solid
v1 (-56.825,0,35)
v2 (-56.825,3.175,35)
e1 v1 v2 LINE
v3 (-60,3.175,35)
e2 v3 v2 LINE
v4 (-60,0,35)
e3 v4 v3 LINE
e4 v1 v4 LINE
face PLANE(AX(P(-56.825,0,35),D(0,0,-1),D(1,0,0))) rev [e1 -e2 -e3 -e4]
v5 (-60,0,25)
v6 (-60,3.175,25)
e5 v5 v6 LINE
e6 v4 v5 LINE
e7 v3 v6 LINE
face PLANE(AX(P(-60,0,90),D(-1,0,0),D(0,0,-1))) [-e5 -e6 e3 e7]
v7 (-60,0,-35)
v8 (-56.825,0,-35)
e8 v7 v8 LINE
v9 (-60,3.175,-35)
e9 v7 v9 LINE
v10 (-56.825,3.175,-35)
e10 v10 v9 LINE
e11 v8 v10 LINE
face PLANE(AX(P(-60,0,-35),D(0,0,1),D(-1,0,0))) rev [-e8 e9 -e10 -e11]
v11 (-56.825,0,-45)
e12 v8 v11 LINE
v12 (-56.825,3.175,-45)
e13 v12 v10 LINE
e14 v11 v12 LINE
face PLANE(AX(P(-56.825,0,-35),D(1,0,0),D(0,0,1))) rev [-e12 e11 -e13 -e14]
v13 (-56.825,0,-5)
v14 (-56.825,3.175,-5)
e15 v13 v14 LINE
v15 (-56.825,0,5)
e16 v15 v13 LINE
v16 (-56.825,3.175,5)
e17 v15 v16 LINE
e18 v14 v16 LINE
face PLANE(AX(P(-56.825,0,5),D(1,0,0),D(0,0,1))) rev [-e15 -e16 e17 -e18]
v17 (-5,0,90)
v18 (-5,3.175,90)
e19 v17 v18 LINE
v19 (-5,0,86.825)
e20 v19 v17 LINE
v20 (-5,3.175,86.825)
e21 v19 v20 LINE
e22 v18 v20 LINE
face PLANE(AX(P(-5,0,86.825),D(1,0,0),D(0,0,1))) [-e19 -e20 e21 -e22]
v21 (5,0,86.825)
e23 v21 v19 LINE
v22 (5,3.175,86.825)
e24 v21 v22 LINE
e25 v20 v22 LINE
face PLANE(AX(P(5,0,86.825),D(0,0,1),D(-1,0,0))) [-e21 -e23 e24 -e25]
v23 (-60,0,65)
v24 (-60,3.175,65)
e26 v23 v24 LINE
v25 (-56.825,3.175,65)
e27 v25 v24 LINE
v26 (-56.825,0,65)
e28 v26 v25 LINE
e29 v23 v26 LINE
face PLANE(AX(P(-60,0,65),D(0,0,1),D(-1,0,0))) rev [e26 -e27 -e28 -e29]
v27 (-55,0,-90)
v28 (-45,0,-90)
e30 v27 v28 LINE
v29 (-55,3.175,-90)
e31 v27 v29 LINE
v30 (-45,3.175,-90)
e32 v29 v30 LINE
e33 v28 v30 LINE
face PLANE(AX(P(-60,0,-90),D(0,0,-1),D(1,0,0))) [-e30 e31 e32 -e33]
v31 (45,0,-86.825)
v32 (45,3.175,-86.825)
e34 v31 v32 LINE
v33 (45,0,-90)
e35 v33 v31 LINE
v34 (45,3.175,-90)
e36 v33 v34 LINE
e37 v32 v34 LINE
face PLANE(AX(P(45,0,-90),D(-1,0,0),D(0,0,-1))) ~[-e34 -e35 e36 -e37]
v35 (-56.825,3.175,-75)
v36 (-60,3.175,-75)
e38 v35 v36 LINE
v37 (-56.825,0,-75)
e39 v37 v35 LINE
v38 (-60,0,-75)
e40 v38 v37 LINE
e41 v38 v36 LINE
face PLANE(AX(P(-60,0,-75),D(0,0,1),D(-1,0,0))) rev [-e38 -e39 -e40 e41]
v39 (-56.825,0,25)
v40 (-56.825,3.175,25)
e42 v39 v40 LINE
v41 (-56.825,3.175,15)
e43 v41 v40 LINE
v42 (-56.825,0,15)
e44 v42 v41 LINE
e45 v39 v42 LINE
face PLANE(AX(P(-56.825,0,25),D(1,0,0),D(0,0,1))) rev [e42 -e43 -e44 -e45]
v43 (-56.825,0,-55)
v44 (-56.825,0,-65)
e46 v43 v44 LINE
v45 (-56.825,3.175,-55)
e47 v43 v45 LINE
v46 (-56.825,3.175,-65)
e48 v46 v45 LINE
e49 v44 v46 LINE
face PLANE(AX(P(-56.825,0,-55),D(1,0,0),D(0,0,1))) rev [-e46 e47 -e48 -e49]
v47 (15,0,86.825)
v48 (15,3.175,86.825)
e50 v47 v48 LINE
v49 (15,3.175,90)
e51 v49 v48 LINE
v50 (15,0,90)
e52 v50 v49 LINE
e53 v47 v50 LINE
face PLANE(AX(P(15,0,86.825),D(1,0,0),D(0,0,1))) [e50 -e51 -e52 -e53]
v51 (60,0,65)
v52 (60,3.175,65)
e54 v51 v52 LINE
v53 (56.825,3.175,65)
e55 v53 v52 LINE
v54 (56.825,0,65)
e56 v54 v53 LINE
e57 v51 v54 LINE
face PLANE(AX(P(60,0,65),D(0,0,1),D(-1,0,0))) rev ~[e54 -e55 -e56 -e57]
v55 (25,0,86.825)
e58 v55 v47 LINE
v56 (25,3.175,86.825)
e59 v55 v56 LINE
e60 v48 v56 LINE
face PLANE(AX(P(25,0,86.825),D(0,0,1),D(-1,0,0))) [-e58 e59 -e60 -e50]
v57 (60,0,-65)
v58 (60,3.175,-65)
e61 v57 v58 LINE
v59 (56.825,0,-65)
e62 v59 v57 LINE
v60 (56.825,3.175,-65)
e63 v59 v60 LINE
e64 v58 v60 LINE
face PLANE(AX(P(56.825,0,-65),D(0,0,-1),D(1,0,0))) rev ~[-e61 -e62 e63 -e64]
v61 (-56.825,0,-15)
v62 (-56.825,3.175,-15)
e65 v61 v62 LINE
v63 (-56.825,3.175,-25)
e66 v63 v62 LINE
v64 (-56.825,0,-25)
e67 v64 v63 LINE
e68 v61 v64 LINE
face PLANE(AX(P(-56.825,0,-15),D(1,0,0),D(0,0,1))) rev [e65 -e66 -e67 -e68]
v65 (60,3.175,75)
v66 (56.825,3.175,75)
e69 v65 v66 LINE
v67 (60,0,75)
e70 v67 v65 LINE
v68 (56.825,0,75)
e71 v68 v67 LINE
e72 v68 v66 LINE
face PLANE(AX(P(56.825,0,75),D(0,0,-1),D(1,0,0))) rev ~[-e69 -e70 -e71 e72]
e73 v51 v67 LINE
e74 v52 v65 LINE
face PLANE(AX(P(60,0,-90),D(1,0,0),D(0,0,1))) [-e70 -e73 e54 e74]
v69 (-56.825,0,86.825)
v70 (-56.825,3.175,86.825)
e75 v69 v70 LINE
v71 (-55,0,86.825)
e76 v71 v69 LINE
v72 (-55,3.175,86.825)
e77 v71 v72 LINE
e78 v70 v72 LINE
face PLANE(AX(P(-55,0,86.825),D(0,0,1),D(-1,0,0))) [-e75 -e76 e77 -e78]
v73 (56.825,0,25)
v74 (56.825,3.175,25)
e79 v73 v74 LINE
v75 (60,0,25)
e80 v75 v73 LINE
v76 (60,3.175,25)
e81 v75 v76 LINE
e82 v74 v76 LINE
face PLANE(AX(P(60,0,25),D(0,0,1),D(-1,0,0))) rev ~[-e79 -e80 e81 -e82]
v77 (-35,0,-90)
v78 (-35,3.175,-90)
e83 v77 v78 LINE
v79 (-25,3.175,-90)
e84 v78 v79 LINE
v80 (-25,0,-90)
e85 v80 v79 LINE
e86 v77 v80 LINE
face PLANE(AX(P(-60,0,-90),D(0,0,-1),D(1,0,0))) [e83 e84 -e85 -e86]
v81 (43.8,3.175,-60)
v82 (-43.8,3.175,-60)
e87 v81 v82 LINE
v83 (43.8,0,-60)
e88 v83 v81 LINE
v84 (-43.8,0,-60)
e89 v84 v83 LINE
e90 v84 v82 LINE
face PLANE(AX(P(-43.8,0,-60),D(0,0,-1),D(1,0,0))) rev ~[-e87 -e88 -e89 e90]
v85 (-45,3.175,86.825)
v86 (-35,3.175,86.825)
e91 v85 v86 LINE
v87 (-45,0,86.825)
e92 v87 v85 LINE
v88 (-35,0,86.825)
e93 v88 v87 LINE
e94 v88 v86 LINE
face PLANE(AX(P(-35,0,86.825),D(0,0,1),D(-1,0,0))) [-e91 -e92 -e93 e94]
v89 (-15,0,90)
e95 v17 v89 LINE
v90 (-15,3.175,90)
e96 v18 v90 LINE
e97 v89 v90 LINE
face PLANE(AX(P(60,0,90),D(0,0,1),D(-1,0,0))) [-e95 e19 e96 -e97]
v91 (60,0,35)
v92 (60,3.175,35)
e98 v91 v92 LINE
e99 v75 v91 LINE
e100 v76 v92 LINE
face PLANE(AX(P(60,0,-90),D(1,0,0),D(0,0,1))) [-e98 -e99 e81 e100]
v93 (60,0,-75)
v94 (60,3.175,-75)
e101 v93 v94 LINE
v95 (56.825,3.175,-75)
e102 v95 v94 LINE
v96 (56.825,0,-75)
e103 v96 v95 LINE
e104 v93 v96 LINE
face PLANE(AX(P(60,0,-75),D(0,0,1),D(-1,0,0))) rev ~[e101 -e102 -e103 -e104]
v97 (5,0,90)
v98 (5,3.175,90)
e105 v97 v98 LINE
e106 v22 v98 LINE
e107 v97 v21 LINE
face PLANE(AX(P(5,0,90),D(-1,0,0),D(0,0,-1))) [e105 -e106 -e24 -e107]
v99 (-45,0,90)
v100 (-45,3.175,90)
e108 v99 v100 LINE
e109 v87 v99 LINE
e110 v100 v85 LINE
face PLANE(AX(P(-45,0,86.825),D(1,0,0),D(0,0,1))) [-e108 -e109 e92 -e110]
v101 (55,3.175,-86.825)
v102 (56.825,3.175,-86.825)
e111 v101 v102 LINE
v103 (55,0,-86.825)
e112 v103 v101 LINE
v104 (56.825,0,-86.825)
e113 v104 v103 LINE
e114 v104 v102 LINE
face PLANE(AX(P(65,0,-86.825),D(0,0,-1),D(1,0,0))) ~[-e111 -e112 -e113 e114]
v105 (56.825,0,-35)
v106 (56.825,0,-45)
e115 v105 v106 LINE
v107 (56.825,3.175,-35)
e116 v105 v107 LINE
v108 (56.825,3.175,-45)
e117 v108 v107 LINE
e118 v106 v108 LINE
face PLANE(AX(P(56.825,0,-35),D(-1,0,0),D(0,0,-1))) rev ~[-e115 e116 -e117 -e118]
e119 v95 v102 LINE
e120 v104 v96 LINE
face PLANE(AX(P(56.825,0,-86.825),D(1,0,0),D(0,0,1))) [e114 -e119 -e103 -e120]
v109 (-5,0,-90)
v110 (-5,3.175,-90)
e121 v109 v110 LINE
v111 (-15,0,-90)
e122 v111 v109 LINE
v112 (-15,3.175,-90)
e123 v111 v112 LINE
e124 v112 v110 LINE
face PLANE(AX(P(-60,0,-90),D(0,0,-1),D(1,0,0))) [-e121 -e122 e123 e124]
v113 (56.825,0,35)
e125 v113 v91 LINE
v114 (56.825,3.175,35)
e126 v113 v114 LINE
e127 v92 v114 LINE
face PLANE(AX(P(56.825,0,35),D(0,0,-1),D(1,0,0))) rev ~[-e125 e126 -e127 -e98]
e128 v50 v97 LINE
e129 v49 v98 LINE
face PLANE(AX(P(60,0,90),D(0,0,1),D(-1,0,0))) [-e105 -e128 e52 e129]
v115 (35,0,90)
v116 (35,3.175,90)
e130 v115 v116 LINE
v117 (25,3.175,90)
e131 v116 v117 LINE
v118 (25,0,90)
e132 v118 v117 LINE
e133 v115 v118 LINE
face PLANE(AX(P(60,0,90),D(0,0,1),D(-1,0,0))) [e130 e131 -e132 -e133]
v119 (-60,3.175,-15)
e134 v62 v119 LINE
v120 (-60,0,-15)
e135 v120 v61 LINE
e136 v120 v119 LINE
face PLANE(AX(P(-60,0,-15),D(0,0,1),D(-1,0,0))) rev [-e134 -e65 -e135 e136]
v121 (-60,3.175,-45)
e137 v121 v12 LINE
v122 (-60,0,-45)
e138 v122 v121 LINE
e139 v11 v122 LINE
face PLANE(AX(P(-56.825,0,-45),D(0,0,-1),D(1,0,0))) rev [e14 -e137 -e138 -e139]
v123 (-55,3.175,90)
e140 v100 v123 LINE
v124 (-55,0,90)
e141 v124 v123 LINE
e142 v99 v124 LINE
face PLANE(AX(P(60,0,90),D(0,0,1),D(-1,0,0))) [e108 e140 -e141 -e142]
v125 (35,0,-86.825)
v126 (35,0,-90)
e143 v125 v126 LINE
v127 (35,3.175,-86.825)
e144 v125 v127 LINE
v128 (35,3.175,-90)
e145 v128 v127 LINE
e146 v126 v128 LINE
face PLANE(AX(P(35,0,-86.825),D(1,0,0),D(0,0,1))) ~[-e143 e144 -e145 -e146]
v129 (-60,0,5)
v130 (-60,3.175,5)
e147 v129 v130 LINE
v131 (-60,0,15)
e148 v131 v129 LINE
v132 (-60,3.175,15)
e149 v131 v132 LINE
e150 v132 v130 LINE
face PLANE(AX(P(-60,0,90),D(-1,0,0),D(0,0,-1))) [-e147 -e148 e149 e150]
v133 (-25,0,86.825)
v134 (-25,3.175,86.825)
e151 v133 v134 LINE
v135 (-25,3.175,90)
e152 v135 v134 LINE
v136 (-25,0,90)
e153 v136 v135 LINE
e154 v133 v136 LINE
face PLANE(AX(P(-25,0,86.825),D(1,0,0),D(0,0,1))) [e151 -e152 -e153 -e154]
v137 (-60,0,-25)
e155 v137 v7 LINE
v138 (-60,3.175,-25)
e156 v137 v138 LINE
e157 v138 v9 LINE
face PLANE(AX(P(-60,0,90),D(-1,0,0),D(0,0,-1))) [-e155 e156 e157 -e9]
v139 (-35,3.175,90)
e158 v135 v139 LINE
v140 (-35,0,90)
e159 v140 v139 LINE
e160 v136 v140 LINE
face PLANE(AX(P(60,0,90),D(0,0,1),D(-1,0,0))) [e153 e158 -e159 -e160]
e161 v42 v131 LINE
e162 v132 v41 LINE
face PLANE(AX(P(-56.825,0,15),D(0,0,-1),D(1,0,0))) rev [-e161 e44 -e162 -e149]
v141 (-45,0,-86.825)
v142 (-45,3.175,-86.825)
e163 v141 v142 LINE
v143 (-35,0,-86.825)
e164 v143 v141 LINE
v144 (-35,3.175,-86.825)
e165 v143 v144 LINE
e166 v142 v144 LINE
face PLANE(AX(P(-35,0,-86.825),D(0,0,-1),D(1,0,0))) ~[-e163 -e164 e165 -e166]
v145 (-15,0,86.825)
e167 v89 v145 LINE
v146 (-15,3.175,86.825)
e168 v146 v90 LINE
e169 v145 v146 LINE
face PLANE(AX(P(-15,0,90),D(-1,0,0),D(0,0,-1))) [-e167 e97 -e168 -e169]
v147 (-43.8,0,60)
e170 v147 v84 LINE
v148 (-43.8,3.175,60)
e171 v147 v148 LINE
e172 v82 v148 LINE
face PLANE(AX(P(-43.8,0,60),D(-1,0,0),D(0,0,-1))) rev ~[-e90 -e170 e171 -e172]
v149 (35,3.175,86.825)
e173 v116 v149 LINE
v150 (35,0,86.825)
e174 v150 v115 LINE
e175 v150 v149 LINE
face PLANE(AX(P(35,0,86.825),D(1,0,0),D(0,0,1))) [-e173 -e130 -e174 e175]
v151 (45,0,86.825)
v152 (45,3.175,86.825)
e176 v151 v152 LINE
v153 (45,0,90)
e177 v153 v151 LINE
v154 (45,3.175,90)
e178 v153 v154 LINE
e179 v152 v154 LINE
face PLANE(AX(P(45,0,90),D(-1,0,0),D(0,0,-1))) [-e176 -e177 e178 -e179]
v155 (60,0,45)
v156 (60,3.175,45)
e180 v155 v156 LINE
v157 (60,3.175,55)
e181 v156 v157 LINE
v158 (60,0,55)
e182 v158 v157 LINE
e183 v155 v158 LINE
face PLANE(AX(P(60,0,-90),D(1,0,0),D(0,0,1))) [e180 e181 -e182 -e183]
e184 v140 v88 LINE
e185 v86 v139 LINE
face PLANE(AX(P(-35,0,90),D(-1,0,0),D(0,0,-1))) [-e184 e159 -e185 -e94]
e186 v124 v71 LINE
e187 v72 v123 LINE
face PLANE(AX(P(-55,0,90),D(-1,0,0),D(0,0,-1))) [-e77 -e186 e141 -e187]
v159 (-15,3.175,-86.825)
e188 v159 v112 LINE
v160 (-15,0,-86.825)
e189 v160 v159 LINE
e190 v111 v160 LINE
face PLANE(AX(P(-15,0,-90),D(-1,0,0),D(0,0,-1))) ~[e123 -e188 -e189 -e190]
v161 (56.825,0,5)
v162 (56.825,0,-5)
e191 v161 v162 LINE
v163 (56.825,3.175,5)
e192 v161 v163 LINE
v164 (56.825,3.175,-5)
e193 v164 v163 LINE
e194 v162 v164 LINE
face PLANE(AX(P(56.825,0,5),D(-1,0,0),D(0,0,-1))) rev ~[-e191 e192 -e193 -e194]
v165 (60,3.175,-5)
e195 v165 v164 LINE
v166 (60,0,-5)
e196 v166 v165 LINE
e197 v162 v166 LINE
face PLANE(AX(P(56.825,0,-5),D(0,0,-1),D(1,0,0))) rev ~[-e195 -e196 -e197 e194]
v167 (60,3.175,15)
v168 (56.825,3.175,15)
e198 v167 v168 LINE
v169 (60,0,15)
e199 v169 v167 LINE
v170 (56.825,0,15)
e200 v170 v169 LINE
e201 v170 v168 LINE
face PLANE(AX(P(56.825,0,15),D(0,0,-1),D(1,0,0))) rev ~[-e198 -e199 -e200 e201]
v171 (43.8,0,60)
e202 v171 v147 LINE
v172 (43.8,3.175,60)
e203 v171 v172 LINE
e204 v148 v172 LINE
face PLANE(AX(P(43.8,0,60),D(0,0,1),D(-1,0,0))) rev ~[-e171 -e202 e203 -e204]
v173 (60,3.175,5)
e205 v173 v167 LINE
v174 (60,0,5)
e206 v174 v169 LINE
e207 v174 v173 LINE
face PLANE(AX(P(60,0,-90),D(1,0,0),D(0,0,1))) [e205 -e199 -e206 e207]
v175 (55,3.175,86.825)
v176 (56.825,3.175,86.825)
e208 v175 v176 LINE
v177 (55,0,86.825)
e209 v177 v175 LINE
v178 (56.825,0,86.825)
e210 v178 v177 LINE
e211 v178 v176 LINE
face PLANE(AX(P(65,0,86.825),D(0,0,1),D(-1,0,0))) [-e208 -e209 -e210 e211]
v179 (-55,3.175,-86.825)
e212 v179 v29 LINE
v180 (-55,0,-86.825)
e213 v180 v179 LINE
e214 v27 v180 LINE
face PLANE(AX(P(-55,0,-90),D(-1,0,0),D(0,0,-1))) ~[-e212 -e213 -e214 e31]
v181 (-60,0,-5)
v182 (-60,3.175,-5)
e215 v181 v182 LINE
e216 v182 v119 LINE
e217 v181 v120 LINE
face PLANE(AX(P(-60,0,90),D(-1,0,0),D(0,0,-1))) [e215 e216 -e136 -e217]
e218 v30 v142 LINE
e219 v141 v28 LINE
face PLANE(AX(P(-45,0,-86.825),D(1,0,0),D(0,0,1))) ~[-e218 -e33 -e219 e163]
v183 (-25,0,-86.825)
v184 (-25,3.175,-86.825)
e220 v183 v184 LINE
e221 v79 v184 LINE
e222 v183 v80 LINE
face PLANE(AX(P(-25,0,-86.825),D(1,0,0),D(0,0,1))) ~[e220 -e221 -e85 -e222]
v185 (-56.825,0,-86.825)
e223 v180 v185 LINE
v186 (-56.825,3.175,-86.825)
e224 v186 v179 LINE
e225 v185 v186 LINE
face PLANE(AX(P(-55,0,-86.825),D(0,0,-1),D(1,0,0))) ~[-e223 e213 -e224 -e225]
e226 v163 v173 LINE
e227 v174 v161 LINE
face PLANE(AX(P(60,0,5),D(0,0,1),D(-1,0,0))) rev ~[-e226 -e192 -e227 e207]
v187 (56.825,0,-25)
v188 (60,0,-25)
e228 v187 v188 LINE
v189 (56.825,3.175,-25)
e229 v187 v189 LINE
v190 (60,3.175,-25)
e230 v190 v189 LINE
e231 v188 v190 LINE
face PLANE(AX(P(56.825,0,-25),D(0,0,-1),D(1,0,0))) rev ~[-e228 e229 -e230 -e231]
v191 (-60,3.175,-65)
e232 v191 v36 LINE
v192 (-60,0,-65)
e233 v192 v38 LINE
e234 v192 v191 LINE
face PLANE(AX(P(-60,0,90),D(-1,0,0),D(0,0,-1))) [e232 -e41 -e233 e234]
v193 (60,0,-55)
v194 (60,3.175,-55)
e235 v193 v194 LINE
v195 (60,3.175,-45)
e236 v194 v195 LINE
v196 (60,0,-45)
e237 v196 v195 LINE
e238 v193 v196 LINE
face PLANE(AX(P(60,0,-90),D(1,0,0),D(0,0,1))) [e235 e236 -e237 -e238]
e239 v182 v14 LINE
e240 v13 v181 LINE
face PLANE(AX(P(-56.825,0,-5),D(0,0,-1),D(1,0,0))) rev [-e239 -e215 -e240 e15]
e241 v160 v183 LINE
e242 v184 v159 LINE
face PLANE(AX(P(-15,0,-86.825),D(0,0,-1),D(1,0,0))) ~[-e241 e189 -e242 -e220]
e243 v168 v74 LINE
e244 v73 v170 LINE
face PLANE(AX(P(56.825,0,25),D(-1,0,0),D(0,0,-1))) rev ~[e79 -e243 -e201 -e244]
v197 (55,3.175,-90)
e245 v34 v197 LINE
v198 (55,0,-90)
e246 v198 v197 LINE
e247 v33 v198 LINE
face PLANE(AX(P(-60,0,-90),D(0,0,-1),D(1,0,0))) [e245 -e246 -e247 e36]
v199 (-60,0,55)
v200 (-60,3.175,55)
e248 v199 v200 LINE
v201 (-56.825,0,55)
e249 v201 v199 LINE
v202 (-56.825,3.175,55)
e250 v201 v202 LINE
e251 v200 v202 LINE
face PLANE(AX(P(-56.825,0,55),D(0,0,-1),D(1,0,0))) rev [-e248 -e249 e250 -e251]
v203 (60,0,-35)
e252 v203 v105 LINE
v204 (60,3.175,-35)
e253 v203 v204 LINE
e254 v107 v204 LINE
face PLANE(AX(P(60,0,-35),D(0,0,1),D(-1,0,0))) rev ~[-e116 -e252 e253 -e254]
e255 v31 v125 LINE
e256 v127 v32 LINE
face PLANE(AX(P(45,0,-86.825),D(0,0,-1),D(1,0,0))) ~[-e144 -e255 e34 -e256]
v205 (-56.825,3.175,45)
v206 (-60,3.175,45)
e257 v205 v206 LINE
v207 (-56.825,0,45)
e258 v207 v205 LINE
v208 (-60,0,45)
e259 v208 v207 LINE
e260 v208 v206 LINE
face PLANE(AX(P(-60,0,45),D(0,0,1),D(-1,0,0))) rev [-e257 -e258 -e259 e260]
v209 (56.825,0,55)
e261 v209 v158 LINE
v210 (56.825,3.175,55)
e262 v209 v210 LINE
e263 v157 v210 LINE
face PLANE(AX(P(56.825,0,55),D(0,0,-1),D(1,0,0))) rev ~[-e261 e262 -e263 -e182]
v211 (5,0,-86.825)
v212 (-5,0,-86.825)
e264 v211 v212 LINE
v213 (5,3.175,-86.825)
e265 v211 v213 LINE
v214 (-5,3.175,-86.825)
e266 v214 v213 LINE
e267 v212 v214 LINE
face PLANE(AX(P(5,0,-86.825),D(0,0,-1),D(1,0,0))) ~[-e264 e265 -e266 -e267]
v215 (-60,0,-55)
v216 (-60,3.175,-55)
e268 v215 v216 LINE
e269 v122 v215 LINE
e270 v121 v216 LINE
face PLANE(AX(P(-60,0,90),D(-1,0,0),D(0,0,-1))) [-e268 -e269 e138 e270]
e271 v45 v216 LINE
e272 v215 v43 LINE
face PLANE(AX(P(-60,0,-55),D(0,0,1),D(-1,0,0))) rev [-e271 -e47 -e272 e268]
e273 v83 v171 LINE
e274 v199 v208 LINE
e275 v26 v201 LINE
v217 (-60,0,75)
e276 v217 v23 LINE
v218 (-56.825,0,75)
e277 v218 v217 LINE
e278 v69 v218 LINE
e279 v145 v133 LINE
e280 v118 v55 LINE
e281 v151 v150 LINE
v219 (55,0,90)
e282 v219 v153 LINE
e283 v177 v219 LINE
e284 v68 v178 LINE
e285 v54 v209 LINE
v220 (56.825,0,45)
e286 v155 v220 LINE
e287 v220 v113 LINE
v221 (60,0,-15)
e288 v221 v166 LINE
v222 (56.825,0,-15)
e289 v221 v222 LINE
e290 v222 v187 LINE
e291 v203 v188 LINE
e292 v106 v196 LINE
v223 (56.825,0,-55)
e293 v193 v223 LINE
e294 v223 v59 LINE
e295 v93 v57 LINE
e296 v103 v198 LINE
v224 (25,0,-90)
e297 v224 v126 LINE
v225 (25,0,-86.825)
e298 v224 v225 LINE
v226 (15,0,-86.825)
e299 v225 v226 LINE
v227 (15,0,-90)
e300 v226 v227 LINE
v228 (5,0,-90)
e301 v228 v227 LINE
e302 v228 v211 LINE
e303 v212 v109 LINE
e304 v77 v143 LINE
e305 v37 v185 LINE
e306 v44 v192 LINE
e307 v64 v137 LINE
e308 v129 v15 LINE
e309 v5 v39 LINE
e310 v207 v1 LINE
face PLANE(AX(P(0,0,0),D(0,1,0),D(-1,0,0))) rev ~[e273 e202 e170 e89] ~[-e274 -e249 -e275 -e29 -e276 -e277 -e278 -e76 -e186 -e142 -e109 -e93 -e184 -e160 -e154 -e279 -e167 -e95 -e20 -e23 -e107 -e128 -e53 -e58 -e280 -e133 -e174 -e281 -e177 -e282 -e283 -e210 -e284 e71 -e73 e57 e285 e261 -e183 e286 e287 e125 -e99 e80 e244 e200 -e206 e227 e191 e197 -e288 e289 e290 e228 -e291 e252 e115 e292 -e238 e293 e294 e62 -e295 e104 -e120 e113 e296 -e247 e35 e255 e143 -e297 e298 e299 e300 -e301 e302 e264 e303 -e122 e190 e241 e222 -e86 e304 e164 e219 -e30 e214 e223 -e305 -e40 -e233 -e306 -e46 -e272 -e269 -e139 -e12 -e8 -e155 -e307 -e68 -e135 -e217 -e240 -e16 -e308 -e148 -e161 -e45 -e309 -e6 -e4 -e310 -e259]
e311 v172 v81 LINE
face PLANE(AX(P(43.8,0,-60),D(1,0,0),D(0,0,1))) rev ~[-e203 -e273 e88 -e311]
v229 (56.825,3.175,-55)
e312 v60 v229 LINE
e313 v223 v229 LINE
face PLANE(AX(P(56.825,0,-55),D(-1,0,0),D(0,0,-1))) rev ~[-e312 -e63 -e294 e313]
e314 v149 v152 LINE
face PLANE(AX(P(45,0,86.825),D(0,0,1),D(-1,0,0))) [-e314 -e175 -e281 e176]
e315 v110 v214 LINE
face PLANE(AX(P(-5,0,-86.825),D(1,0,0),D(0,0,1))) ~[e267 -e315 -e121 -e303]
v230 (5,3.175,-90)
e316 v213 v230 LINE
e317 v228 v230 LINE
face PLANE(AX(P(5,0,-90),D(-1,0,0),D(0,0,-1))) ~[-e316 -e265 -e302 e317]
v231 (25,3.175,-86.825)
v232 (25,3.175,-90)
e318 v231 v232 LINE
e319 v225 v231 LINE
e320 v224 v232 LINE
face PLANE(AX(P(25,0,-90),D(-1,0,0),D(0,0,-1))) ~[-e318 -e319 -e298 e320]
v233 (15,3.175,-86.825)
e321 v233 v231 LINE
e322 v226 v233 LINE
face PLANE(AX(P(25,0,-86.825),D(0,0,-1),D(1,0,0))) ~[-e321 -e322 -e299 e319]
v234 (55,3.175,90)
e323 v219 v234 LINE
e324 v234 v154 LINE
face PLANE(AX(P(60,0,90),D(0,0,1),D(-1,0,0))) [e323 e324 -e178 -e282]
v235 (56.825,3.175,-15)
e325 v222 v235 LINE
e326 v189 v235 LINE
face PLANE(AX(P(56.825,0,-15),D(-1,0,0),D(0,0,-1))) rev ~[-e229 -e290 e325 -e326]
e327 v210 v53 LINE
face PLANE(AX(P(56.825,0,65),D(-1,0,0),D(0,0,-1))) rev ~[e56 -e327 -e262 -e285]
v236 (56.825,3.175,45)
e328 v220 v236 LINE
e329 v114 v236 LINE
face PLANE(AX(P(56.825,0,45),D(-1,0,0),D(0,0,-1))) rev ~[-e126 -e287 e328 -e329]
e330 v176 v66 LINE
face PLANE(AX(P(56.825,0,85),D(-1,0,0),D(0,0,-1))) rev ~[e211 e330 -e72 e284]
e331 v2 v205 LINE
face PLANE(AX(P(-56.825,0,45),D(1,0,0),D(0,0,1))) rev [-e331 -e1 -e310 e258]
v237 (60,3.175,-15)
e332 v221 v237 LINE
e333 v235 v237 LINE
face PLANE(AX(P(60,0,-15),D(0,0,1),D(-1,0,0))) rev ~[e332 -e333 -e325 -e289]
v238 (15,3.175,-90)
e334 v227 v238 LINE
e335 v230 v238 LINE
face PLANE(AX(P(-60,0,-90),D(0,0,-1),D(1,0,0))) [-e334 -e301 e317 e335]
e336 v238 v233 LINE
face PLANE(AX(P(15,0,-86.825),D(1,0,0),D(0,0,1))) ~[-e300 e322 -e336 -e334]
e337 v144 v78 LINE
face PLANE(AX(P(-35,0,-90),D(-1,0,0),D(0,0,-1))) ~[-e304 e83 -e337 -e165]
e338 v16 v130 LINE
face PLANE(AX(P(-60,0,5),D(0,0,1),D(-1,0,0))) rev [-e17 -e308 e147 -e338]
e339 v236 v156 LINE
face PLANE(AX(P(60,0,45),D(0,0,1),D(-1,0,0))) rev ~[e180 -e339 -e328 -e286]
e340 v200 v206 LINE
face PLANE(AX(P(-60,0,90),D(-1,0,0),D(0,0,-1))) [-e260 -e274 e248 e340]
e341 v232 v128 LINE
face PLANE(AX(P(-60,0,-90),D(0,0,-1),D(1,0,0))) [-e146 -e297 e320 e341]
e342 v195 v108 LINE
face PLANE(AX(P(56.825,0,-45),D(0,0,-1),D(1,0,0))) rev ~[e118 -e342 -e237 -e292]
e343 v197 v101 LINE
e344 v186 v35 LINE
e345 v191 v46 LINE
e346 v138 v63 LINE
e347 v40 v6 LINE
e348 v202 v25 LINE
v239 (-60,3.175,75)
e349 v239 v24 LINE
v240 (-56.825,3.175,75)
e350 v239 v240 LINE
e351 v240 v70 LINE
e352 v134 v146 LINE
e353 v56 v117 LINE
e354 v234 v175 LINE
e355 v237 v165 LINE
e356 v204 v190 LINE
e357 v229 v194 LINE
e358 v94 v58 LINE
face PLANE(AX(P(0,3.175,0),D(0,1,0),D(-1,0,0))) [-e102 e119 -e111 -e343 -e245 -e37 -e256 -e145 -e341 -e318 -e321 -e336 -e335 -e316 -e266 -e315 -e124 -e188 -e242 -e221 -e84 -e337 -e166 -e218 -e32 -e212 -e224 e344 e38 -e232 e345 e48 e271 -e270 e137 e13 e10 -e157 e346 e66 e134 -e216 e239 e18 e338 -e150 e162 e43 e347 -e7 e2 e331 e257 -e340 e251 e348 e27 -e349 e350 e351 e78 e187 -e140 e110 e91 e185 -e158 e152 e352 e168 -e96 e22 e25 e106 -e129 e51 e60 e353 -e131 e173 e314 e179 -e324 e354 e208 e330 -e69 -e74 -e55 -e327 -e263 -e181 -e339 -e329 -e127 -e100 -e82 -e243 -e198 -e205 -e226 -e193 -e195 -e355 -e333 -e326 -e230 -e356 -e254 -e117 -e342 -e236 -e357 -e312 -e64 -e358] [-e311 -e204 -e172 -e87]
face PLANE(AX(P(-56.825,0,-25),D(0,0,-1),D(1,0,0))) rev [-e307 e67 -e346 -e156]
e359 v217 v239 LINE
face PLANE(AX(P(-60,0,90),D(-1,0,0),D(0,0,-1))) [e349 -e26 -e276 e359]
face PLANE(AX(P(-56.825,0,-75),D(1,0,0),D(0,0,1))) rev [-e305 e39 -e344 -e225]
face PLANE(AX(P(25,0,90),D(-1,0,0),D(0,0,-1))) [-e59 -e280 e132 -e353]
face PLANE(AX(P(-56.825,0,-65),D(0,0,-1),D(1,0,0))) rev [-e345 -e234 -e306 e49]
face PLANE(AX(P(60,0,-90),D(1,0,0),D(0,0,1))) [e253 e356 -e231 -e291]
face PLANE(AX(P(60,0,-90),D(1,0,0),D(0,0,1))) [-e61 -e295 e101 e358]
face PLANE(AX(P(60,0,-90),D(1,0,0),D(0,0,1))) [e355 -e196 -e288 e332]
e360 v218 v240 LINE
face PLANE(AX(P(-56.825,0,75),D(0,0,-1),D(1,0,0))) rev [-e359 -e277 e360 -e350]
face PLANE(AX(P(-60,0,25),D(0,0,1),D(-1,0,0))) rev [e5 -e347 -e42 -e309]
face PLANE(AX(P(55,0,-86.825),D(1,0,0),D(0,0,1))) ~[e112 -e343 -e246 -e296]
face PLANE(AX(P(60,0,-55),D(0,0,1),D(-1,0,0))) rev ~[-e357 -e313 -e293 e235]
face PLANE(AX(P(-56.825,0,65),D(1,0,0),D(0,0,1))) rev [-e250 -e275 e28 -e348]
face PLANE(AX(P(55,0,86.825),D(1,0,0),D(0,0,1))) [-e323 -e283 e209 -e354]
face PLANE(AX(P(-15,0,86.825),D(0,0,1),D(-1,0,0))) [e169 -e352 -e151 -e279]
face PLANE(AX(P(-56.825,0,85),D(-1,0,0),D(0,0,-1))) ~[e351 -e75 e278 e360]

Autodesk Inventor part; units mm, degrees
ref_plane "YZ Plane" through (0, 0, 0) normal (1, 0, 0) x (0, 1, 0)
ref_plane "XZ Plane" through (0, 0, 0) normal (0, 1, 0) x (-1, 0, 0)
ref_plane "XY Plane" through (0, 0, 0) normal (0, 0, 1) x (1, 0, 0)
sketch "Sketch1" plane through (0, 0, 0) normal (0, 1, 0) x (-1, 0, 0)
  line L0 (60, -90) -> (-60, -90)
  line L1 (-60, -90) -> (-60, 90)
  line L2 (-60, 90) -> (60, 90)
  line L3 (60, 90) -> (60, -90)
  line L4 (60, -90) -> (-60, 90) construction
  line L5 (-60, -90) -> (60, 90) construction
  point P0 (0, 0)
  dimension "d0" = 120
  dimension "d1" = 180
extrude "Extrusion1" add sketch "Sketch1" along normal blind 3.175
sketch "Sketch2" plane through (0, 0, 0) normal (0, -1, 0) x (1, 0, 0)
  line L0 (-43.8, -60) -> (43.8, -60)
  line L1 (43.8, -60) -> (43.8, 60)
  line L2 (43.8, 60) -> (-43.8, 60)
  line L3 (-43.8, 60) -> (-43.8, -60)
  line L4 (-43.8, -60) -> (43.8, 60) construction
  line L5 (43.8, -60) -> (-43.8, 60) construction
  line L6 (60, 90) -> (-60, 90) projected
  point P0 (0, 0)
  dimension "d4" = 87.6
  dimension "d8" = 30
extrude "Extrusion2" cut sketch "Sketch2" against normal through all
sketch "Sketch4" plane through (0, 0, 0) normal (0, -1, 0) x (1, 0, 0)
  line L0 (43.8, 60) -> (43.8, -60) projected
  line L1 (43.8, -60) -> (-43.8, -60) projected
  line L2 (-43.8, -60) -> (-43.8, 60) projected
  line L3 (-43.8, 60) -> (43.8, 60) projected
  line L4 (-60, -90) -> (60, -90) projected
  line L5 (60, -90) -> (60, 90) projected
  line L6 (60, 90) -> (-60, 90) projected
  line L7 (-60, 90) -> (-60, -90) projected
  line L8 (-60, 90) -> (60, 90) projected
  line L9 (-45, 90) -> (-35, 90)
  line L10 (-35, 90) -> (-35, 86.825)
  line L11 (-35, 86.825) -> (-45, 86.825)
  line L12 (-45, 86.825) -> (-45, 90)
  point P0 (0, 0)
  dimension "d25" = 10
  dimension "d26" = 15
  dimension "d27" = 3.175
extrude "Extrusion3" cut sketch "Sketch4" against normal through all contours L6 L10 L11 L12
pattern_linear "Rectangular Pattern1" count 6 spacing 20 along (1, 0, 0) of "Extrusion3"
sketch "Sketch6" plane through (0, 0, 0) normal (0, -1, 0) x (1, 0, 0)
  line L0 (55, 86.825) -> (55, 90) projected
  line L1 (55, 90) -> (45, 90) projected
  line L2 (45, 90) -> (45, 86.825) projected
  line L3 (45, 86.825) -> (35, 86.825) projected
  line L4 (35, 86.825) -> (35, 90) projected
  line L5 (35, 90) -> (25, 90) projected
  line L6 (25, 90) -> (25, 86.825) projected
  line L7 (25, 86.825) -> (15, 86.825) projected
  line L8 (15, 86.825) -> (15, 90) projected
  line L9 (15, 90) -> (5, 90) projected
  line L10 (5, 90) -> (5, 86.825) projected
  line L11 (5, 86.825) -> (-5, 86.825) projected
  line L12 (-5, 86.825) -> (-5, 90) projected
  line L13 (-5, 90) -> (-15, 90) projected
  line L14 (-15, 90) -> (-15, 86.825) projected
  line L15 (-15, 86.825) -> (-25, 86.825) projected
  line L16 (-25, 86.825) -> (-25, 90) projected
  line L17 (-25, 90) -> (-35, 90) projected
  line L18 (-35, 90) -> (-35, 86.825) projected
  line L19 (-35, 86.825) -> (-45, 86.825) projected
  line L20 (-45, 86.825) -> (-45, 90) projected
  line L21 (-45, 90) -> (-60, 90) projected
  line L22 (-60, 90) -> (-60, -90) projected
  line L23 (-60, -90) -> (60, -90) projected
  line L24 (60, -90) -> (60, 86.825) projected
  line L25 (60, 86.825) -> (55, 86.825) projected
  line L26 (43.8, 60) -> (43.8, -60) projected
  line L27 (43.8, -60) -> (-43.8, -60) projected
  line L28 (-43.8, -60) -> (-43.8, 60) projected
  line L29 (-43.8, 60) -> (43.8, 60) projected
  line L30 (-60, 90) -> (-55, 90)
  line L31 (-55, 90) -> (-55, 86.825)
  line L32 (-55, 86.825) -> (-60, 86.825)
  line L33 (-60, 86.825) -> (-60, 90)
  point P0 (0, 0)
  dimension "d41" = 10
  dimension "d42" = 3.175
extrude "Extrusion5" cut sketch "Sketch6" against normal through all contours L22 L21 L31 L32
mirror "Mirror1" about plane through (0, 0, 0) normal (0, 0, 1) of "Extrusion3", "Rectangular Pattern1", "Extrusion5"
sketch "Sketch5" plane through (0, 0, 0) normal (0, -1, 0) x (1, 0, 0)
  line L0 (-35, -90) -> (-25, -90) projected
  line L1 (60, -86.825) -> (60, 86.825) projected
  line L2 (-45, 90) -> (-55, 90) projected
  line L3 (60, 86.825) -> (55, 86.825) projected
  line L4 (55, 86.825) -> (55, 90) projected
  line L5 (55, 90) -> (45, 90) projected
  line L6 (45, 90) -> (45, 86.825) projected
  line L7 (45, 86.825) -> (35, 86.825) projected
  line L8 (35, 86.825) -> (35, 90) projected
  line L9 (35, 90) -> (25, 90) projected
  line L10 (25, 90) -> (25, 86.825) projected
  line L11 (25, 86.825) -> (15, 86.825) projected
  line L12 (15, 86.825) -> (15, 90) projected
  line L13 (15, 90) -> (5, 90) projected
  line L14 (5, 90) -> (5, 86.825) projected
  line L15 (5, 86.825) -> (-5, 86.825) projected
  line L16 (-5, 86.825) -> (-5, 90) projected
  line L17 (-5, 90) -> (-15, 90) projected
  line L18 (-15, 90) -> (-15, 86.825) projected
  line L19 (-15, 86.825) -> (-25, 86.825) projected
  line L20 (-25, 86.825) -> (-25, 90) projected
  line L21 (-25, 90) -> (-35, 90) projected
  line L22 (-35, 90) -> (-35, 86.825) projected
  line L23 (-35, 86.825) -> (-45, 86.825) projected
  line L24 (-45, 86.825) -> (-45, 90) projected
  line L25 (-60, 86.825) -> (-60, -86.825) projected
  line L26 (-45, -90) -> (-45, -86.825) projected
  line L27 (-45, -86.825) -> (-35, -86.825) projected
  line L28 (-35, -86.825) -> (-35, -90) projected
  line L29 (-25, -90) -> (-25, -86.825) projected
  line L30 (-25, -86.825) -> (-15, -86.825) projected
  line L31 (-15, -86.825) -> (-15, -90) projected
  line L32 (-15, -90) -> (-5, -90) projected
  line L33 (-5, -90) -> (-5, -86.825) projected
  line L34 (-5, -86.825) -> (5, -86.825) projected
  line L35 (5, -86.825) -> (5, -90) projected
  line L36 (5, -90) -> (15, -90) projected
  line L37 (15, -90) -> (15, -86.825) projected
  line L38 (15, -86.825) -> (25, -86.825) projected
  line L39 (25, -86.825) -> (25, -90) projected
  line L40 (25, -90) -> (35, -90) projected
  line L41 (35, -90) -> (35, -86.825) projected
  line L42 (35, -86.825) -> (45, -86.825) projected
  line L43 (45, -86.825) -> (45, -90) projected
  line L44 (45, -90) -> (55, -90) projected
  line L45 (55, -90) -> (55, -86.825) projected
  line L46 (55, -86.825) -> (60, -86.825) projected
  line L47 (43.8, 60) -> (43.8, -60) projected
  line L48 (43.8, -60) -> (-43.8, -60) projected
  line L49 (-43.8, -60) -> (-43.8, 60) projected
  line L50 (-43.8, 60) -> (43.8, 60) projected
  line L51 (60, 90) -> (60, -90) projected
  line L52 (60, 85) -> (56.825, 85)
  line L53 (56.825, 85) -> (56.825, 75)
  line L54 (56.825, 75) -> (60, 75)
  line L55 (60, 75) -> (60, 85)
  line L56 (-55, -86.825) -> (-55, -90) projected
  line L57 (-55, -90) -> (-45, -90) projected
  line L58 (-55, 90) -> (-55, 86.825) projected
  line L59 (-55, 86.825) -> (-60, 86.825) projected
  line L60 (-60, -86.825) -> (-55, -86.825) projected
  point P0 (0, 0)
  dimension "d33" = 3.175
  dimension "d34" = 5
  dimension "d35" = 10
extrude "Extrusion4" cut sketch "Sketch5" against normal through all contours L54 L53 L52 L1
pattern_linear "Rectangular Pattern2" count 9 spacing 20 along (0, 0, -1) of "Extrusion4"
sketch "Sketch7" plane through (0, 0, 0) normal (0, -1, 0) x (1, 0, 0)
  line L0 (56.825, -75) -> (60, -75) projected
  line L1 (60, -75) -> (60, -65) projected
  line L2 (60, -65) -> (56.825, -65) projected
  line L3 (56.825, -65) -> (56.825, -55) projected
  line L4 (56.825, -55) -> (60, -55) projected
  line L5 (60, -55) -> (60, -45) projected
  line L6 (60, -45) -> (56.825, -45) projected
  line L7 (56.825, -45) -> (56.825, -35) projected
  line L8 (56.825, -35) -> (60, -35) projected
  line L9 (60, -35) -> (60, -25) projected
  line L10 (60, -25) -> (56.825, -25) projected
  line L11 (56.825, -25) -> (56.825, -15) projected
  line L12 (56.825, -15) -> (60, -15) projected
  line L13 (60, -15) -> (60, -5) projected
  line L14 (60, -5) -> (56.825, -5) projected
  line L15 (56.825, -5) -> (56.825, 5) projected
  line L16 (56.825, 5) -> (60, 5) projected
  line L17 (60, 5) -> (60, 15) projected
  line L18 (60, 15) -> (56.825, 15) projected
  line L19 (56.825, 15) -> (56.825, 25) projected
  line L20 (56.825, 25) -> (60, 25) projected
  line L21 (60, 25) -> (60, 35) projected
  line L22 (60, 35) -> (56.825, 35) projected
  line L23 (56.825, 35) -> (56.825, 45) projected
  line L24 (56.825, 45) -> (60, 45) projected
  line L25 (60, 45) -> (60, 55) projected
  line L26 (60, 55) -> (56.825, 55) projected
  line L27 (56.825, 55) -> (56.825, 65) projected
  line L28 (56.825, 65) -> (60, 65) projected
  line L29 (60, 65) -> (60, 75) projected
  line L30 (60, 75) -> (56.825, 75) projected
  line L31 (56.825, 75) -> (56.825, 85) projected
  line L32 (56.825, 85) -> (60, 85) projected
  line L33 (60, 85) -> (60, 86.825) projected
  line L34 (60, 86.825) -> (55, 86.825) projected
  line L35 (55, 86.825) -> (55, 90) projected
  line L36 (55, 90) -> (45, 90) projected
  line L37 (45, 90) -> (45, 86.825) projected
  line L38 (45, 86.825) -> (35, 86.825) projected
  line L39 (35, 86.825) -> (35, 90) projected
  line L40 (35, 90) -> (25, 90) projected
  line L41 (25, 90) -> (25, 86.825) projected
  line L42 (25, 86.825) -> (15, 86.825) projected
  line L43 (15, 86.825) -> (15, 90) projected
  line L44 (15, 90) -> (5, 90) projected
  line L45 (5, 90) -> (5, 86.825) projected
  line L46 (5, 86.825) -> (-5, 86.825) projected
  line L47 (-5, 86.825) -> (-5, 90) projected
  line L48 (-5, 90) -> (-15, 90) projected
  line L49 (-15, 90) -> (-15, 86.825) projected
  line L50 (-15, 86.825) -> (-25, 86.825) projected
  line L51 (-25, 86.825) -> (-25, 90) projected
  line L52 (-25, 90) -> (-35, 90) projected
  line L53 (-35, 90) -> (-35, 86.825) projected
  line L54 (-35, 86.825) -> (-45, 86.825) projected
  line L55 (-45, 86.825) -> (-45, 90) projected
  line L56 (-45, 90) -> (-55, 90) projected
  line L57 (-55, 90) -> (-55, 86.825) projected
  line L58 (-55, 86.825) -> (-60, 86.825) projected
  line L59 (-60, 86.825) -> (-60, -86.825) projected
  line L60 (-60, -86.825) -> (-55, -86.825) projected
  line L61 (-55, -86.825) -> (-55, -90) projected
  line L62 (-55, -90) -> (-45, -90) projected
  line L63 (-45, -90) -> (-45, -86.825) projected
  line L64 (-45, -86.825) -> (-35, -86.825) projected
  line L65 (-35, -86.825) -> (-35, -90) projected
  line L66 (-35, -90) -> (-25, -90) projected
  line L67 (-25, -90) -> (-25, -86.825) projected
  line L68 (-25, -86.825) -> (-15, -86.825) projected
  line L69 (-15, -86.825) -> (-15, -90) projected
  line L70 (-15, -90) -> (-5, -90) projected
  line L71 (-5, -90) -> (-5, -86.825) projected
  line L72 (-5, -86.825) -> (5, -86.825) projected
  line L73 (5, -86.825) -> (5, -90) projected
  line L74 (5, -90) -> (15, -90) projected
  line L75 (15, -90) -> (15, -86.825) projected
  line L76 (15, -86.825) -> (25, -86.825) projected
  line L77 (25, -86.825) -> (25, -90) projected
  line L78 (25, -90) -> (35, -90) projected
  line L79 (35, -90) -> (35, -86.825) projected
  line L80 (35, -86.825) -> (45, -86.825) projected
  line L81 (45, -86.825) -> (45, -90) projected
  line L82 (45, -90) -> (55, -90) projected
  line L83 (55, -90) -> (55, -86.825) projected
  line L84 (55, -86.825) -> (60, -86.825) projected
  line L85 (60, -86.825) -> (60, -85) projected
  line L86 (60, -85) -> (56.825, -85) projected
  line L87 (56.825, -85) -> (56.825, -75) projected
  line L88 (43.8, 60) -> (43.8, -60) projected
  line L89 (43.8, -60) -> (-43.8, -60) projected
  line L90 (-43.8, -60) -> (-43.8, 60) projected
  line L91 (-43.8, 60) -> (43.8, 60) projected
  line L92 (56.825, 85) -> (60, 85) projected
  line L93 (60, 86.825) -> (55, 86.825) projected
  line L94 (60, 85) -> (56.825, 85)
  line L95 (56.825, 85) -> (56.825, 86.825)
  line L96 (56.825, 86.825) -> (60, 86.825)
  line L97 (60, 86.825) -> (60, 85)
  line L98 (55, -86.825) -> (60, -86.825) projected
  line L99 (56.825, -85) -> (56.825, -75) projected
  line L100 (60, -86.825) -> (56.825, -86.825)
  line L101 (56.825, -86.825) -> (56.825, -85)
  line L102 (56.825, -85) -> (60, -85)
  line L103 (60, -85) -> (60, -86.825)
  point P0 (0, 0)
extrude "Extrusion6" cut sketch "Sketch7" against normal through all contours L86 L85 L84 L101 | L95 L34 L33 L32
mirror "Mirror2" about plane through (0, 0, 0) normal (1, 0, 0) of "Extrusion4", "Rectangular Pattern2", "Extrusion6"
sketch "Sketch3" plane through (0, 0, 0) normal (0, -1, 0) x (1, 0, 0)
  line L0 (43.8, 60) -> (43.8, -60) projected
  line L1 (43.8, -65) -> (-43.8, -65) projected
  line L2 (-43.8, -60) -> (-43.8, 60) projected
  line L3 (-43.8, 65) -> (43.8, 65) projected
  line L4 (-60, -90) -> (60, -90) projected
  line L5 (60, -90) -> (60, 90) projected
  line L6 (60, 90) -> (-60, 90) projected
  line L7 (-60, 90) -> (-60, -90) projected
  line L8 (58.5014, 54) -> (58.5014, 18)
  line L9 (58.5014, 18) -> (-58.5014, 18)
  line L10 (-58.5014, 18) -> (-58.5014, 54)
  line L11 (-20, 88.5014) -> (-20, -88.5014)
  line L12 (-20, -88.5014) -> (20, -88.5014)
  line L13 (-43.8, 60) -> (-43.8, -60) projected
  line L14 (20, -88.5014) -> (20, 88.5014)
  line L15 (58.5014, -54) -> (58.5014, -18)
  line L16 (58.5014, -18) -> (-58.5014, -18)
  line L17 (-43.8, 60) -> (43.8, 60) projected
  line L18 (43.8, -60) -> (-43.8, -60) projected
  line L19 (-58.5014, -18) -> (-58.5014, 18)
  line L20 (-58.5014, -54) -> (-58.5014, -18)
  line L21 (58.5014, -18) -> (58.5014, 18)
  line L22 (-58.5014, -54) -> (58.5014, -54)
  line L23 (-58.5014, 54) -> (58.5014, 54)
  line L24 (-20, 88.5014) -> (20, 88.5014)
  point P0 (0, 0)
  dimension "d9" = 1.5875
  dimension "d10" = 1.5875
  dimension "d11" = 1.5875
  dimension "d12" = 1.5875
  dimension "d20" = 40
  dimension "d21" = 40
  dimension "d22" = 36
  dimension "d24" = 36
equation "\"d0\" = width"
equation "\"d1\" = height"
equation "\"d2\" = materialThickness"
equation "\"d4\" = cardWidth + 4 * cardClearence"
equation "\"d6\" = materialThickness"
equation "\"d25\" = notchWidth"
equation "\"d26\" = 1.5 * notchWidth"
equation "\"d27\" = materialThickness"
equation "\"d32\" = 2 * notchWidth"
equation "\"d41\" = notchWidth"
equation "\"d42\" = materialThickness"
equation "\"d33\" = materialThickness"
equation "\"d34\" = 0.5 * notchWidth"
equation "\"d35\" = notchWidth"
equation "\"d40\" = 2 * notchWidth"
equation "\"d9\" = 0.5 * materialThickness"
equation "\"d10\" = 0.5 * materialThickness"
equation "\"d11\" = 0.5 * materialThickness"
equation "\"d12\" = 0.5 * materialThickness"
equation "\"d20\" = 0.333333 * width"
equation "\"d21\" = 0.333333 * width"
equation "\"d22\" = 0.2 * height"
equation "\"d24\" = 0.2 * height"
equation "\"height\" = 180"
equation "\"width\" = 120"
equation "\"materialThickness\" = 3.175"
equation "\"laserKerf\" = 0.12"
equation "\"cardPinDiameter\" = 3"
equation "\"cardThickness\" = 0.76"
equation "\"cardFillet\" = 2.88"
equation "\"cardHeight\" = 53.98"
equation "\"cardSelected\" = 1"
equation "\"cardWidth\" = 85.6"
equation "\"centeralShaftDiameter\" = 8"
equation "\"cardClearence\" = 0.5"
equation "\"bearingOd\" = 22"
equation "\"bearingWidth\" = 8"
equation "\"axleHeight\" = 95"
equation "\"nutTrapClearence\" = 2"
equation "\"nutTrapwidth\" = 5.5"
equation "\"nutTrapDepth\" = 2.5"
equation "\"magnetDiameter\" = 6"
equation "\"magnetLength\" = 3"
equation "\"magnetProtusion\" = 0.25"
equation "\"notchWidth\" = 10"
equation "\"spoolThickness\" = 5.588"
properties part number "front" material "Polycarbonate, Clear"
